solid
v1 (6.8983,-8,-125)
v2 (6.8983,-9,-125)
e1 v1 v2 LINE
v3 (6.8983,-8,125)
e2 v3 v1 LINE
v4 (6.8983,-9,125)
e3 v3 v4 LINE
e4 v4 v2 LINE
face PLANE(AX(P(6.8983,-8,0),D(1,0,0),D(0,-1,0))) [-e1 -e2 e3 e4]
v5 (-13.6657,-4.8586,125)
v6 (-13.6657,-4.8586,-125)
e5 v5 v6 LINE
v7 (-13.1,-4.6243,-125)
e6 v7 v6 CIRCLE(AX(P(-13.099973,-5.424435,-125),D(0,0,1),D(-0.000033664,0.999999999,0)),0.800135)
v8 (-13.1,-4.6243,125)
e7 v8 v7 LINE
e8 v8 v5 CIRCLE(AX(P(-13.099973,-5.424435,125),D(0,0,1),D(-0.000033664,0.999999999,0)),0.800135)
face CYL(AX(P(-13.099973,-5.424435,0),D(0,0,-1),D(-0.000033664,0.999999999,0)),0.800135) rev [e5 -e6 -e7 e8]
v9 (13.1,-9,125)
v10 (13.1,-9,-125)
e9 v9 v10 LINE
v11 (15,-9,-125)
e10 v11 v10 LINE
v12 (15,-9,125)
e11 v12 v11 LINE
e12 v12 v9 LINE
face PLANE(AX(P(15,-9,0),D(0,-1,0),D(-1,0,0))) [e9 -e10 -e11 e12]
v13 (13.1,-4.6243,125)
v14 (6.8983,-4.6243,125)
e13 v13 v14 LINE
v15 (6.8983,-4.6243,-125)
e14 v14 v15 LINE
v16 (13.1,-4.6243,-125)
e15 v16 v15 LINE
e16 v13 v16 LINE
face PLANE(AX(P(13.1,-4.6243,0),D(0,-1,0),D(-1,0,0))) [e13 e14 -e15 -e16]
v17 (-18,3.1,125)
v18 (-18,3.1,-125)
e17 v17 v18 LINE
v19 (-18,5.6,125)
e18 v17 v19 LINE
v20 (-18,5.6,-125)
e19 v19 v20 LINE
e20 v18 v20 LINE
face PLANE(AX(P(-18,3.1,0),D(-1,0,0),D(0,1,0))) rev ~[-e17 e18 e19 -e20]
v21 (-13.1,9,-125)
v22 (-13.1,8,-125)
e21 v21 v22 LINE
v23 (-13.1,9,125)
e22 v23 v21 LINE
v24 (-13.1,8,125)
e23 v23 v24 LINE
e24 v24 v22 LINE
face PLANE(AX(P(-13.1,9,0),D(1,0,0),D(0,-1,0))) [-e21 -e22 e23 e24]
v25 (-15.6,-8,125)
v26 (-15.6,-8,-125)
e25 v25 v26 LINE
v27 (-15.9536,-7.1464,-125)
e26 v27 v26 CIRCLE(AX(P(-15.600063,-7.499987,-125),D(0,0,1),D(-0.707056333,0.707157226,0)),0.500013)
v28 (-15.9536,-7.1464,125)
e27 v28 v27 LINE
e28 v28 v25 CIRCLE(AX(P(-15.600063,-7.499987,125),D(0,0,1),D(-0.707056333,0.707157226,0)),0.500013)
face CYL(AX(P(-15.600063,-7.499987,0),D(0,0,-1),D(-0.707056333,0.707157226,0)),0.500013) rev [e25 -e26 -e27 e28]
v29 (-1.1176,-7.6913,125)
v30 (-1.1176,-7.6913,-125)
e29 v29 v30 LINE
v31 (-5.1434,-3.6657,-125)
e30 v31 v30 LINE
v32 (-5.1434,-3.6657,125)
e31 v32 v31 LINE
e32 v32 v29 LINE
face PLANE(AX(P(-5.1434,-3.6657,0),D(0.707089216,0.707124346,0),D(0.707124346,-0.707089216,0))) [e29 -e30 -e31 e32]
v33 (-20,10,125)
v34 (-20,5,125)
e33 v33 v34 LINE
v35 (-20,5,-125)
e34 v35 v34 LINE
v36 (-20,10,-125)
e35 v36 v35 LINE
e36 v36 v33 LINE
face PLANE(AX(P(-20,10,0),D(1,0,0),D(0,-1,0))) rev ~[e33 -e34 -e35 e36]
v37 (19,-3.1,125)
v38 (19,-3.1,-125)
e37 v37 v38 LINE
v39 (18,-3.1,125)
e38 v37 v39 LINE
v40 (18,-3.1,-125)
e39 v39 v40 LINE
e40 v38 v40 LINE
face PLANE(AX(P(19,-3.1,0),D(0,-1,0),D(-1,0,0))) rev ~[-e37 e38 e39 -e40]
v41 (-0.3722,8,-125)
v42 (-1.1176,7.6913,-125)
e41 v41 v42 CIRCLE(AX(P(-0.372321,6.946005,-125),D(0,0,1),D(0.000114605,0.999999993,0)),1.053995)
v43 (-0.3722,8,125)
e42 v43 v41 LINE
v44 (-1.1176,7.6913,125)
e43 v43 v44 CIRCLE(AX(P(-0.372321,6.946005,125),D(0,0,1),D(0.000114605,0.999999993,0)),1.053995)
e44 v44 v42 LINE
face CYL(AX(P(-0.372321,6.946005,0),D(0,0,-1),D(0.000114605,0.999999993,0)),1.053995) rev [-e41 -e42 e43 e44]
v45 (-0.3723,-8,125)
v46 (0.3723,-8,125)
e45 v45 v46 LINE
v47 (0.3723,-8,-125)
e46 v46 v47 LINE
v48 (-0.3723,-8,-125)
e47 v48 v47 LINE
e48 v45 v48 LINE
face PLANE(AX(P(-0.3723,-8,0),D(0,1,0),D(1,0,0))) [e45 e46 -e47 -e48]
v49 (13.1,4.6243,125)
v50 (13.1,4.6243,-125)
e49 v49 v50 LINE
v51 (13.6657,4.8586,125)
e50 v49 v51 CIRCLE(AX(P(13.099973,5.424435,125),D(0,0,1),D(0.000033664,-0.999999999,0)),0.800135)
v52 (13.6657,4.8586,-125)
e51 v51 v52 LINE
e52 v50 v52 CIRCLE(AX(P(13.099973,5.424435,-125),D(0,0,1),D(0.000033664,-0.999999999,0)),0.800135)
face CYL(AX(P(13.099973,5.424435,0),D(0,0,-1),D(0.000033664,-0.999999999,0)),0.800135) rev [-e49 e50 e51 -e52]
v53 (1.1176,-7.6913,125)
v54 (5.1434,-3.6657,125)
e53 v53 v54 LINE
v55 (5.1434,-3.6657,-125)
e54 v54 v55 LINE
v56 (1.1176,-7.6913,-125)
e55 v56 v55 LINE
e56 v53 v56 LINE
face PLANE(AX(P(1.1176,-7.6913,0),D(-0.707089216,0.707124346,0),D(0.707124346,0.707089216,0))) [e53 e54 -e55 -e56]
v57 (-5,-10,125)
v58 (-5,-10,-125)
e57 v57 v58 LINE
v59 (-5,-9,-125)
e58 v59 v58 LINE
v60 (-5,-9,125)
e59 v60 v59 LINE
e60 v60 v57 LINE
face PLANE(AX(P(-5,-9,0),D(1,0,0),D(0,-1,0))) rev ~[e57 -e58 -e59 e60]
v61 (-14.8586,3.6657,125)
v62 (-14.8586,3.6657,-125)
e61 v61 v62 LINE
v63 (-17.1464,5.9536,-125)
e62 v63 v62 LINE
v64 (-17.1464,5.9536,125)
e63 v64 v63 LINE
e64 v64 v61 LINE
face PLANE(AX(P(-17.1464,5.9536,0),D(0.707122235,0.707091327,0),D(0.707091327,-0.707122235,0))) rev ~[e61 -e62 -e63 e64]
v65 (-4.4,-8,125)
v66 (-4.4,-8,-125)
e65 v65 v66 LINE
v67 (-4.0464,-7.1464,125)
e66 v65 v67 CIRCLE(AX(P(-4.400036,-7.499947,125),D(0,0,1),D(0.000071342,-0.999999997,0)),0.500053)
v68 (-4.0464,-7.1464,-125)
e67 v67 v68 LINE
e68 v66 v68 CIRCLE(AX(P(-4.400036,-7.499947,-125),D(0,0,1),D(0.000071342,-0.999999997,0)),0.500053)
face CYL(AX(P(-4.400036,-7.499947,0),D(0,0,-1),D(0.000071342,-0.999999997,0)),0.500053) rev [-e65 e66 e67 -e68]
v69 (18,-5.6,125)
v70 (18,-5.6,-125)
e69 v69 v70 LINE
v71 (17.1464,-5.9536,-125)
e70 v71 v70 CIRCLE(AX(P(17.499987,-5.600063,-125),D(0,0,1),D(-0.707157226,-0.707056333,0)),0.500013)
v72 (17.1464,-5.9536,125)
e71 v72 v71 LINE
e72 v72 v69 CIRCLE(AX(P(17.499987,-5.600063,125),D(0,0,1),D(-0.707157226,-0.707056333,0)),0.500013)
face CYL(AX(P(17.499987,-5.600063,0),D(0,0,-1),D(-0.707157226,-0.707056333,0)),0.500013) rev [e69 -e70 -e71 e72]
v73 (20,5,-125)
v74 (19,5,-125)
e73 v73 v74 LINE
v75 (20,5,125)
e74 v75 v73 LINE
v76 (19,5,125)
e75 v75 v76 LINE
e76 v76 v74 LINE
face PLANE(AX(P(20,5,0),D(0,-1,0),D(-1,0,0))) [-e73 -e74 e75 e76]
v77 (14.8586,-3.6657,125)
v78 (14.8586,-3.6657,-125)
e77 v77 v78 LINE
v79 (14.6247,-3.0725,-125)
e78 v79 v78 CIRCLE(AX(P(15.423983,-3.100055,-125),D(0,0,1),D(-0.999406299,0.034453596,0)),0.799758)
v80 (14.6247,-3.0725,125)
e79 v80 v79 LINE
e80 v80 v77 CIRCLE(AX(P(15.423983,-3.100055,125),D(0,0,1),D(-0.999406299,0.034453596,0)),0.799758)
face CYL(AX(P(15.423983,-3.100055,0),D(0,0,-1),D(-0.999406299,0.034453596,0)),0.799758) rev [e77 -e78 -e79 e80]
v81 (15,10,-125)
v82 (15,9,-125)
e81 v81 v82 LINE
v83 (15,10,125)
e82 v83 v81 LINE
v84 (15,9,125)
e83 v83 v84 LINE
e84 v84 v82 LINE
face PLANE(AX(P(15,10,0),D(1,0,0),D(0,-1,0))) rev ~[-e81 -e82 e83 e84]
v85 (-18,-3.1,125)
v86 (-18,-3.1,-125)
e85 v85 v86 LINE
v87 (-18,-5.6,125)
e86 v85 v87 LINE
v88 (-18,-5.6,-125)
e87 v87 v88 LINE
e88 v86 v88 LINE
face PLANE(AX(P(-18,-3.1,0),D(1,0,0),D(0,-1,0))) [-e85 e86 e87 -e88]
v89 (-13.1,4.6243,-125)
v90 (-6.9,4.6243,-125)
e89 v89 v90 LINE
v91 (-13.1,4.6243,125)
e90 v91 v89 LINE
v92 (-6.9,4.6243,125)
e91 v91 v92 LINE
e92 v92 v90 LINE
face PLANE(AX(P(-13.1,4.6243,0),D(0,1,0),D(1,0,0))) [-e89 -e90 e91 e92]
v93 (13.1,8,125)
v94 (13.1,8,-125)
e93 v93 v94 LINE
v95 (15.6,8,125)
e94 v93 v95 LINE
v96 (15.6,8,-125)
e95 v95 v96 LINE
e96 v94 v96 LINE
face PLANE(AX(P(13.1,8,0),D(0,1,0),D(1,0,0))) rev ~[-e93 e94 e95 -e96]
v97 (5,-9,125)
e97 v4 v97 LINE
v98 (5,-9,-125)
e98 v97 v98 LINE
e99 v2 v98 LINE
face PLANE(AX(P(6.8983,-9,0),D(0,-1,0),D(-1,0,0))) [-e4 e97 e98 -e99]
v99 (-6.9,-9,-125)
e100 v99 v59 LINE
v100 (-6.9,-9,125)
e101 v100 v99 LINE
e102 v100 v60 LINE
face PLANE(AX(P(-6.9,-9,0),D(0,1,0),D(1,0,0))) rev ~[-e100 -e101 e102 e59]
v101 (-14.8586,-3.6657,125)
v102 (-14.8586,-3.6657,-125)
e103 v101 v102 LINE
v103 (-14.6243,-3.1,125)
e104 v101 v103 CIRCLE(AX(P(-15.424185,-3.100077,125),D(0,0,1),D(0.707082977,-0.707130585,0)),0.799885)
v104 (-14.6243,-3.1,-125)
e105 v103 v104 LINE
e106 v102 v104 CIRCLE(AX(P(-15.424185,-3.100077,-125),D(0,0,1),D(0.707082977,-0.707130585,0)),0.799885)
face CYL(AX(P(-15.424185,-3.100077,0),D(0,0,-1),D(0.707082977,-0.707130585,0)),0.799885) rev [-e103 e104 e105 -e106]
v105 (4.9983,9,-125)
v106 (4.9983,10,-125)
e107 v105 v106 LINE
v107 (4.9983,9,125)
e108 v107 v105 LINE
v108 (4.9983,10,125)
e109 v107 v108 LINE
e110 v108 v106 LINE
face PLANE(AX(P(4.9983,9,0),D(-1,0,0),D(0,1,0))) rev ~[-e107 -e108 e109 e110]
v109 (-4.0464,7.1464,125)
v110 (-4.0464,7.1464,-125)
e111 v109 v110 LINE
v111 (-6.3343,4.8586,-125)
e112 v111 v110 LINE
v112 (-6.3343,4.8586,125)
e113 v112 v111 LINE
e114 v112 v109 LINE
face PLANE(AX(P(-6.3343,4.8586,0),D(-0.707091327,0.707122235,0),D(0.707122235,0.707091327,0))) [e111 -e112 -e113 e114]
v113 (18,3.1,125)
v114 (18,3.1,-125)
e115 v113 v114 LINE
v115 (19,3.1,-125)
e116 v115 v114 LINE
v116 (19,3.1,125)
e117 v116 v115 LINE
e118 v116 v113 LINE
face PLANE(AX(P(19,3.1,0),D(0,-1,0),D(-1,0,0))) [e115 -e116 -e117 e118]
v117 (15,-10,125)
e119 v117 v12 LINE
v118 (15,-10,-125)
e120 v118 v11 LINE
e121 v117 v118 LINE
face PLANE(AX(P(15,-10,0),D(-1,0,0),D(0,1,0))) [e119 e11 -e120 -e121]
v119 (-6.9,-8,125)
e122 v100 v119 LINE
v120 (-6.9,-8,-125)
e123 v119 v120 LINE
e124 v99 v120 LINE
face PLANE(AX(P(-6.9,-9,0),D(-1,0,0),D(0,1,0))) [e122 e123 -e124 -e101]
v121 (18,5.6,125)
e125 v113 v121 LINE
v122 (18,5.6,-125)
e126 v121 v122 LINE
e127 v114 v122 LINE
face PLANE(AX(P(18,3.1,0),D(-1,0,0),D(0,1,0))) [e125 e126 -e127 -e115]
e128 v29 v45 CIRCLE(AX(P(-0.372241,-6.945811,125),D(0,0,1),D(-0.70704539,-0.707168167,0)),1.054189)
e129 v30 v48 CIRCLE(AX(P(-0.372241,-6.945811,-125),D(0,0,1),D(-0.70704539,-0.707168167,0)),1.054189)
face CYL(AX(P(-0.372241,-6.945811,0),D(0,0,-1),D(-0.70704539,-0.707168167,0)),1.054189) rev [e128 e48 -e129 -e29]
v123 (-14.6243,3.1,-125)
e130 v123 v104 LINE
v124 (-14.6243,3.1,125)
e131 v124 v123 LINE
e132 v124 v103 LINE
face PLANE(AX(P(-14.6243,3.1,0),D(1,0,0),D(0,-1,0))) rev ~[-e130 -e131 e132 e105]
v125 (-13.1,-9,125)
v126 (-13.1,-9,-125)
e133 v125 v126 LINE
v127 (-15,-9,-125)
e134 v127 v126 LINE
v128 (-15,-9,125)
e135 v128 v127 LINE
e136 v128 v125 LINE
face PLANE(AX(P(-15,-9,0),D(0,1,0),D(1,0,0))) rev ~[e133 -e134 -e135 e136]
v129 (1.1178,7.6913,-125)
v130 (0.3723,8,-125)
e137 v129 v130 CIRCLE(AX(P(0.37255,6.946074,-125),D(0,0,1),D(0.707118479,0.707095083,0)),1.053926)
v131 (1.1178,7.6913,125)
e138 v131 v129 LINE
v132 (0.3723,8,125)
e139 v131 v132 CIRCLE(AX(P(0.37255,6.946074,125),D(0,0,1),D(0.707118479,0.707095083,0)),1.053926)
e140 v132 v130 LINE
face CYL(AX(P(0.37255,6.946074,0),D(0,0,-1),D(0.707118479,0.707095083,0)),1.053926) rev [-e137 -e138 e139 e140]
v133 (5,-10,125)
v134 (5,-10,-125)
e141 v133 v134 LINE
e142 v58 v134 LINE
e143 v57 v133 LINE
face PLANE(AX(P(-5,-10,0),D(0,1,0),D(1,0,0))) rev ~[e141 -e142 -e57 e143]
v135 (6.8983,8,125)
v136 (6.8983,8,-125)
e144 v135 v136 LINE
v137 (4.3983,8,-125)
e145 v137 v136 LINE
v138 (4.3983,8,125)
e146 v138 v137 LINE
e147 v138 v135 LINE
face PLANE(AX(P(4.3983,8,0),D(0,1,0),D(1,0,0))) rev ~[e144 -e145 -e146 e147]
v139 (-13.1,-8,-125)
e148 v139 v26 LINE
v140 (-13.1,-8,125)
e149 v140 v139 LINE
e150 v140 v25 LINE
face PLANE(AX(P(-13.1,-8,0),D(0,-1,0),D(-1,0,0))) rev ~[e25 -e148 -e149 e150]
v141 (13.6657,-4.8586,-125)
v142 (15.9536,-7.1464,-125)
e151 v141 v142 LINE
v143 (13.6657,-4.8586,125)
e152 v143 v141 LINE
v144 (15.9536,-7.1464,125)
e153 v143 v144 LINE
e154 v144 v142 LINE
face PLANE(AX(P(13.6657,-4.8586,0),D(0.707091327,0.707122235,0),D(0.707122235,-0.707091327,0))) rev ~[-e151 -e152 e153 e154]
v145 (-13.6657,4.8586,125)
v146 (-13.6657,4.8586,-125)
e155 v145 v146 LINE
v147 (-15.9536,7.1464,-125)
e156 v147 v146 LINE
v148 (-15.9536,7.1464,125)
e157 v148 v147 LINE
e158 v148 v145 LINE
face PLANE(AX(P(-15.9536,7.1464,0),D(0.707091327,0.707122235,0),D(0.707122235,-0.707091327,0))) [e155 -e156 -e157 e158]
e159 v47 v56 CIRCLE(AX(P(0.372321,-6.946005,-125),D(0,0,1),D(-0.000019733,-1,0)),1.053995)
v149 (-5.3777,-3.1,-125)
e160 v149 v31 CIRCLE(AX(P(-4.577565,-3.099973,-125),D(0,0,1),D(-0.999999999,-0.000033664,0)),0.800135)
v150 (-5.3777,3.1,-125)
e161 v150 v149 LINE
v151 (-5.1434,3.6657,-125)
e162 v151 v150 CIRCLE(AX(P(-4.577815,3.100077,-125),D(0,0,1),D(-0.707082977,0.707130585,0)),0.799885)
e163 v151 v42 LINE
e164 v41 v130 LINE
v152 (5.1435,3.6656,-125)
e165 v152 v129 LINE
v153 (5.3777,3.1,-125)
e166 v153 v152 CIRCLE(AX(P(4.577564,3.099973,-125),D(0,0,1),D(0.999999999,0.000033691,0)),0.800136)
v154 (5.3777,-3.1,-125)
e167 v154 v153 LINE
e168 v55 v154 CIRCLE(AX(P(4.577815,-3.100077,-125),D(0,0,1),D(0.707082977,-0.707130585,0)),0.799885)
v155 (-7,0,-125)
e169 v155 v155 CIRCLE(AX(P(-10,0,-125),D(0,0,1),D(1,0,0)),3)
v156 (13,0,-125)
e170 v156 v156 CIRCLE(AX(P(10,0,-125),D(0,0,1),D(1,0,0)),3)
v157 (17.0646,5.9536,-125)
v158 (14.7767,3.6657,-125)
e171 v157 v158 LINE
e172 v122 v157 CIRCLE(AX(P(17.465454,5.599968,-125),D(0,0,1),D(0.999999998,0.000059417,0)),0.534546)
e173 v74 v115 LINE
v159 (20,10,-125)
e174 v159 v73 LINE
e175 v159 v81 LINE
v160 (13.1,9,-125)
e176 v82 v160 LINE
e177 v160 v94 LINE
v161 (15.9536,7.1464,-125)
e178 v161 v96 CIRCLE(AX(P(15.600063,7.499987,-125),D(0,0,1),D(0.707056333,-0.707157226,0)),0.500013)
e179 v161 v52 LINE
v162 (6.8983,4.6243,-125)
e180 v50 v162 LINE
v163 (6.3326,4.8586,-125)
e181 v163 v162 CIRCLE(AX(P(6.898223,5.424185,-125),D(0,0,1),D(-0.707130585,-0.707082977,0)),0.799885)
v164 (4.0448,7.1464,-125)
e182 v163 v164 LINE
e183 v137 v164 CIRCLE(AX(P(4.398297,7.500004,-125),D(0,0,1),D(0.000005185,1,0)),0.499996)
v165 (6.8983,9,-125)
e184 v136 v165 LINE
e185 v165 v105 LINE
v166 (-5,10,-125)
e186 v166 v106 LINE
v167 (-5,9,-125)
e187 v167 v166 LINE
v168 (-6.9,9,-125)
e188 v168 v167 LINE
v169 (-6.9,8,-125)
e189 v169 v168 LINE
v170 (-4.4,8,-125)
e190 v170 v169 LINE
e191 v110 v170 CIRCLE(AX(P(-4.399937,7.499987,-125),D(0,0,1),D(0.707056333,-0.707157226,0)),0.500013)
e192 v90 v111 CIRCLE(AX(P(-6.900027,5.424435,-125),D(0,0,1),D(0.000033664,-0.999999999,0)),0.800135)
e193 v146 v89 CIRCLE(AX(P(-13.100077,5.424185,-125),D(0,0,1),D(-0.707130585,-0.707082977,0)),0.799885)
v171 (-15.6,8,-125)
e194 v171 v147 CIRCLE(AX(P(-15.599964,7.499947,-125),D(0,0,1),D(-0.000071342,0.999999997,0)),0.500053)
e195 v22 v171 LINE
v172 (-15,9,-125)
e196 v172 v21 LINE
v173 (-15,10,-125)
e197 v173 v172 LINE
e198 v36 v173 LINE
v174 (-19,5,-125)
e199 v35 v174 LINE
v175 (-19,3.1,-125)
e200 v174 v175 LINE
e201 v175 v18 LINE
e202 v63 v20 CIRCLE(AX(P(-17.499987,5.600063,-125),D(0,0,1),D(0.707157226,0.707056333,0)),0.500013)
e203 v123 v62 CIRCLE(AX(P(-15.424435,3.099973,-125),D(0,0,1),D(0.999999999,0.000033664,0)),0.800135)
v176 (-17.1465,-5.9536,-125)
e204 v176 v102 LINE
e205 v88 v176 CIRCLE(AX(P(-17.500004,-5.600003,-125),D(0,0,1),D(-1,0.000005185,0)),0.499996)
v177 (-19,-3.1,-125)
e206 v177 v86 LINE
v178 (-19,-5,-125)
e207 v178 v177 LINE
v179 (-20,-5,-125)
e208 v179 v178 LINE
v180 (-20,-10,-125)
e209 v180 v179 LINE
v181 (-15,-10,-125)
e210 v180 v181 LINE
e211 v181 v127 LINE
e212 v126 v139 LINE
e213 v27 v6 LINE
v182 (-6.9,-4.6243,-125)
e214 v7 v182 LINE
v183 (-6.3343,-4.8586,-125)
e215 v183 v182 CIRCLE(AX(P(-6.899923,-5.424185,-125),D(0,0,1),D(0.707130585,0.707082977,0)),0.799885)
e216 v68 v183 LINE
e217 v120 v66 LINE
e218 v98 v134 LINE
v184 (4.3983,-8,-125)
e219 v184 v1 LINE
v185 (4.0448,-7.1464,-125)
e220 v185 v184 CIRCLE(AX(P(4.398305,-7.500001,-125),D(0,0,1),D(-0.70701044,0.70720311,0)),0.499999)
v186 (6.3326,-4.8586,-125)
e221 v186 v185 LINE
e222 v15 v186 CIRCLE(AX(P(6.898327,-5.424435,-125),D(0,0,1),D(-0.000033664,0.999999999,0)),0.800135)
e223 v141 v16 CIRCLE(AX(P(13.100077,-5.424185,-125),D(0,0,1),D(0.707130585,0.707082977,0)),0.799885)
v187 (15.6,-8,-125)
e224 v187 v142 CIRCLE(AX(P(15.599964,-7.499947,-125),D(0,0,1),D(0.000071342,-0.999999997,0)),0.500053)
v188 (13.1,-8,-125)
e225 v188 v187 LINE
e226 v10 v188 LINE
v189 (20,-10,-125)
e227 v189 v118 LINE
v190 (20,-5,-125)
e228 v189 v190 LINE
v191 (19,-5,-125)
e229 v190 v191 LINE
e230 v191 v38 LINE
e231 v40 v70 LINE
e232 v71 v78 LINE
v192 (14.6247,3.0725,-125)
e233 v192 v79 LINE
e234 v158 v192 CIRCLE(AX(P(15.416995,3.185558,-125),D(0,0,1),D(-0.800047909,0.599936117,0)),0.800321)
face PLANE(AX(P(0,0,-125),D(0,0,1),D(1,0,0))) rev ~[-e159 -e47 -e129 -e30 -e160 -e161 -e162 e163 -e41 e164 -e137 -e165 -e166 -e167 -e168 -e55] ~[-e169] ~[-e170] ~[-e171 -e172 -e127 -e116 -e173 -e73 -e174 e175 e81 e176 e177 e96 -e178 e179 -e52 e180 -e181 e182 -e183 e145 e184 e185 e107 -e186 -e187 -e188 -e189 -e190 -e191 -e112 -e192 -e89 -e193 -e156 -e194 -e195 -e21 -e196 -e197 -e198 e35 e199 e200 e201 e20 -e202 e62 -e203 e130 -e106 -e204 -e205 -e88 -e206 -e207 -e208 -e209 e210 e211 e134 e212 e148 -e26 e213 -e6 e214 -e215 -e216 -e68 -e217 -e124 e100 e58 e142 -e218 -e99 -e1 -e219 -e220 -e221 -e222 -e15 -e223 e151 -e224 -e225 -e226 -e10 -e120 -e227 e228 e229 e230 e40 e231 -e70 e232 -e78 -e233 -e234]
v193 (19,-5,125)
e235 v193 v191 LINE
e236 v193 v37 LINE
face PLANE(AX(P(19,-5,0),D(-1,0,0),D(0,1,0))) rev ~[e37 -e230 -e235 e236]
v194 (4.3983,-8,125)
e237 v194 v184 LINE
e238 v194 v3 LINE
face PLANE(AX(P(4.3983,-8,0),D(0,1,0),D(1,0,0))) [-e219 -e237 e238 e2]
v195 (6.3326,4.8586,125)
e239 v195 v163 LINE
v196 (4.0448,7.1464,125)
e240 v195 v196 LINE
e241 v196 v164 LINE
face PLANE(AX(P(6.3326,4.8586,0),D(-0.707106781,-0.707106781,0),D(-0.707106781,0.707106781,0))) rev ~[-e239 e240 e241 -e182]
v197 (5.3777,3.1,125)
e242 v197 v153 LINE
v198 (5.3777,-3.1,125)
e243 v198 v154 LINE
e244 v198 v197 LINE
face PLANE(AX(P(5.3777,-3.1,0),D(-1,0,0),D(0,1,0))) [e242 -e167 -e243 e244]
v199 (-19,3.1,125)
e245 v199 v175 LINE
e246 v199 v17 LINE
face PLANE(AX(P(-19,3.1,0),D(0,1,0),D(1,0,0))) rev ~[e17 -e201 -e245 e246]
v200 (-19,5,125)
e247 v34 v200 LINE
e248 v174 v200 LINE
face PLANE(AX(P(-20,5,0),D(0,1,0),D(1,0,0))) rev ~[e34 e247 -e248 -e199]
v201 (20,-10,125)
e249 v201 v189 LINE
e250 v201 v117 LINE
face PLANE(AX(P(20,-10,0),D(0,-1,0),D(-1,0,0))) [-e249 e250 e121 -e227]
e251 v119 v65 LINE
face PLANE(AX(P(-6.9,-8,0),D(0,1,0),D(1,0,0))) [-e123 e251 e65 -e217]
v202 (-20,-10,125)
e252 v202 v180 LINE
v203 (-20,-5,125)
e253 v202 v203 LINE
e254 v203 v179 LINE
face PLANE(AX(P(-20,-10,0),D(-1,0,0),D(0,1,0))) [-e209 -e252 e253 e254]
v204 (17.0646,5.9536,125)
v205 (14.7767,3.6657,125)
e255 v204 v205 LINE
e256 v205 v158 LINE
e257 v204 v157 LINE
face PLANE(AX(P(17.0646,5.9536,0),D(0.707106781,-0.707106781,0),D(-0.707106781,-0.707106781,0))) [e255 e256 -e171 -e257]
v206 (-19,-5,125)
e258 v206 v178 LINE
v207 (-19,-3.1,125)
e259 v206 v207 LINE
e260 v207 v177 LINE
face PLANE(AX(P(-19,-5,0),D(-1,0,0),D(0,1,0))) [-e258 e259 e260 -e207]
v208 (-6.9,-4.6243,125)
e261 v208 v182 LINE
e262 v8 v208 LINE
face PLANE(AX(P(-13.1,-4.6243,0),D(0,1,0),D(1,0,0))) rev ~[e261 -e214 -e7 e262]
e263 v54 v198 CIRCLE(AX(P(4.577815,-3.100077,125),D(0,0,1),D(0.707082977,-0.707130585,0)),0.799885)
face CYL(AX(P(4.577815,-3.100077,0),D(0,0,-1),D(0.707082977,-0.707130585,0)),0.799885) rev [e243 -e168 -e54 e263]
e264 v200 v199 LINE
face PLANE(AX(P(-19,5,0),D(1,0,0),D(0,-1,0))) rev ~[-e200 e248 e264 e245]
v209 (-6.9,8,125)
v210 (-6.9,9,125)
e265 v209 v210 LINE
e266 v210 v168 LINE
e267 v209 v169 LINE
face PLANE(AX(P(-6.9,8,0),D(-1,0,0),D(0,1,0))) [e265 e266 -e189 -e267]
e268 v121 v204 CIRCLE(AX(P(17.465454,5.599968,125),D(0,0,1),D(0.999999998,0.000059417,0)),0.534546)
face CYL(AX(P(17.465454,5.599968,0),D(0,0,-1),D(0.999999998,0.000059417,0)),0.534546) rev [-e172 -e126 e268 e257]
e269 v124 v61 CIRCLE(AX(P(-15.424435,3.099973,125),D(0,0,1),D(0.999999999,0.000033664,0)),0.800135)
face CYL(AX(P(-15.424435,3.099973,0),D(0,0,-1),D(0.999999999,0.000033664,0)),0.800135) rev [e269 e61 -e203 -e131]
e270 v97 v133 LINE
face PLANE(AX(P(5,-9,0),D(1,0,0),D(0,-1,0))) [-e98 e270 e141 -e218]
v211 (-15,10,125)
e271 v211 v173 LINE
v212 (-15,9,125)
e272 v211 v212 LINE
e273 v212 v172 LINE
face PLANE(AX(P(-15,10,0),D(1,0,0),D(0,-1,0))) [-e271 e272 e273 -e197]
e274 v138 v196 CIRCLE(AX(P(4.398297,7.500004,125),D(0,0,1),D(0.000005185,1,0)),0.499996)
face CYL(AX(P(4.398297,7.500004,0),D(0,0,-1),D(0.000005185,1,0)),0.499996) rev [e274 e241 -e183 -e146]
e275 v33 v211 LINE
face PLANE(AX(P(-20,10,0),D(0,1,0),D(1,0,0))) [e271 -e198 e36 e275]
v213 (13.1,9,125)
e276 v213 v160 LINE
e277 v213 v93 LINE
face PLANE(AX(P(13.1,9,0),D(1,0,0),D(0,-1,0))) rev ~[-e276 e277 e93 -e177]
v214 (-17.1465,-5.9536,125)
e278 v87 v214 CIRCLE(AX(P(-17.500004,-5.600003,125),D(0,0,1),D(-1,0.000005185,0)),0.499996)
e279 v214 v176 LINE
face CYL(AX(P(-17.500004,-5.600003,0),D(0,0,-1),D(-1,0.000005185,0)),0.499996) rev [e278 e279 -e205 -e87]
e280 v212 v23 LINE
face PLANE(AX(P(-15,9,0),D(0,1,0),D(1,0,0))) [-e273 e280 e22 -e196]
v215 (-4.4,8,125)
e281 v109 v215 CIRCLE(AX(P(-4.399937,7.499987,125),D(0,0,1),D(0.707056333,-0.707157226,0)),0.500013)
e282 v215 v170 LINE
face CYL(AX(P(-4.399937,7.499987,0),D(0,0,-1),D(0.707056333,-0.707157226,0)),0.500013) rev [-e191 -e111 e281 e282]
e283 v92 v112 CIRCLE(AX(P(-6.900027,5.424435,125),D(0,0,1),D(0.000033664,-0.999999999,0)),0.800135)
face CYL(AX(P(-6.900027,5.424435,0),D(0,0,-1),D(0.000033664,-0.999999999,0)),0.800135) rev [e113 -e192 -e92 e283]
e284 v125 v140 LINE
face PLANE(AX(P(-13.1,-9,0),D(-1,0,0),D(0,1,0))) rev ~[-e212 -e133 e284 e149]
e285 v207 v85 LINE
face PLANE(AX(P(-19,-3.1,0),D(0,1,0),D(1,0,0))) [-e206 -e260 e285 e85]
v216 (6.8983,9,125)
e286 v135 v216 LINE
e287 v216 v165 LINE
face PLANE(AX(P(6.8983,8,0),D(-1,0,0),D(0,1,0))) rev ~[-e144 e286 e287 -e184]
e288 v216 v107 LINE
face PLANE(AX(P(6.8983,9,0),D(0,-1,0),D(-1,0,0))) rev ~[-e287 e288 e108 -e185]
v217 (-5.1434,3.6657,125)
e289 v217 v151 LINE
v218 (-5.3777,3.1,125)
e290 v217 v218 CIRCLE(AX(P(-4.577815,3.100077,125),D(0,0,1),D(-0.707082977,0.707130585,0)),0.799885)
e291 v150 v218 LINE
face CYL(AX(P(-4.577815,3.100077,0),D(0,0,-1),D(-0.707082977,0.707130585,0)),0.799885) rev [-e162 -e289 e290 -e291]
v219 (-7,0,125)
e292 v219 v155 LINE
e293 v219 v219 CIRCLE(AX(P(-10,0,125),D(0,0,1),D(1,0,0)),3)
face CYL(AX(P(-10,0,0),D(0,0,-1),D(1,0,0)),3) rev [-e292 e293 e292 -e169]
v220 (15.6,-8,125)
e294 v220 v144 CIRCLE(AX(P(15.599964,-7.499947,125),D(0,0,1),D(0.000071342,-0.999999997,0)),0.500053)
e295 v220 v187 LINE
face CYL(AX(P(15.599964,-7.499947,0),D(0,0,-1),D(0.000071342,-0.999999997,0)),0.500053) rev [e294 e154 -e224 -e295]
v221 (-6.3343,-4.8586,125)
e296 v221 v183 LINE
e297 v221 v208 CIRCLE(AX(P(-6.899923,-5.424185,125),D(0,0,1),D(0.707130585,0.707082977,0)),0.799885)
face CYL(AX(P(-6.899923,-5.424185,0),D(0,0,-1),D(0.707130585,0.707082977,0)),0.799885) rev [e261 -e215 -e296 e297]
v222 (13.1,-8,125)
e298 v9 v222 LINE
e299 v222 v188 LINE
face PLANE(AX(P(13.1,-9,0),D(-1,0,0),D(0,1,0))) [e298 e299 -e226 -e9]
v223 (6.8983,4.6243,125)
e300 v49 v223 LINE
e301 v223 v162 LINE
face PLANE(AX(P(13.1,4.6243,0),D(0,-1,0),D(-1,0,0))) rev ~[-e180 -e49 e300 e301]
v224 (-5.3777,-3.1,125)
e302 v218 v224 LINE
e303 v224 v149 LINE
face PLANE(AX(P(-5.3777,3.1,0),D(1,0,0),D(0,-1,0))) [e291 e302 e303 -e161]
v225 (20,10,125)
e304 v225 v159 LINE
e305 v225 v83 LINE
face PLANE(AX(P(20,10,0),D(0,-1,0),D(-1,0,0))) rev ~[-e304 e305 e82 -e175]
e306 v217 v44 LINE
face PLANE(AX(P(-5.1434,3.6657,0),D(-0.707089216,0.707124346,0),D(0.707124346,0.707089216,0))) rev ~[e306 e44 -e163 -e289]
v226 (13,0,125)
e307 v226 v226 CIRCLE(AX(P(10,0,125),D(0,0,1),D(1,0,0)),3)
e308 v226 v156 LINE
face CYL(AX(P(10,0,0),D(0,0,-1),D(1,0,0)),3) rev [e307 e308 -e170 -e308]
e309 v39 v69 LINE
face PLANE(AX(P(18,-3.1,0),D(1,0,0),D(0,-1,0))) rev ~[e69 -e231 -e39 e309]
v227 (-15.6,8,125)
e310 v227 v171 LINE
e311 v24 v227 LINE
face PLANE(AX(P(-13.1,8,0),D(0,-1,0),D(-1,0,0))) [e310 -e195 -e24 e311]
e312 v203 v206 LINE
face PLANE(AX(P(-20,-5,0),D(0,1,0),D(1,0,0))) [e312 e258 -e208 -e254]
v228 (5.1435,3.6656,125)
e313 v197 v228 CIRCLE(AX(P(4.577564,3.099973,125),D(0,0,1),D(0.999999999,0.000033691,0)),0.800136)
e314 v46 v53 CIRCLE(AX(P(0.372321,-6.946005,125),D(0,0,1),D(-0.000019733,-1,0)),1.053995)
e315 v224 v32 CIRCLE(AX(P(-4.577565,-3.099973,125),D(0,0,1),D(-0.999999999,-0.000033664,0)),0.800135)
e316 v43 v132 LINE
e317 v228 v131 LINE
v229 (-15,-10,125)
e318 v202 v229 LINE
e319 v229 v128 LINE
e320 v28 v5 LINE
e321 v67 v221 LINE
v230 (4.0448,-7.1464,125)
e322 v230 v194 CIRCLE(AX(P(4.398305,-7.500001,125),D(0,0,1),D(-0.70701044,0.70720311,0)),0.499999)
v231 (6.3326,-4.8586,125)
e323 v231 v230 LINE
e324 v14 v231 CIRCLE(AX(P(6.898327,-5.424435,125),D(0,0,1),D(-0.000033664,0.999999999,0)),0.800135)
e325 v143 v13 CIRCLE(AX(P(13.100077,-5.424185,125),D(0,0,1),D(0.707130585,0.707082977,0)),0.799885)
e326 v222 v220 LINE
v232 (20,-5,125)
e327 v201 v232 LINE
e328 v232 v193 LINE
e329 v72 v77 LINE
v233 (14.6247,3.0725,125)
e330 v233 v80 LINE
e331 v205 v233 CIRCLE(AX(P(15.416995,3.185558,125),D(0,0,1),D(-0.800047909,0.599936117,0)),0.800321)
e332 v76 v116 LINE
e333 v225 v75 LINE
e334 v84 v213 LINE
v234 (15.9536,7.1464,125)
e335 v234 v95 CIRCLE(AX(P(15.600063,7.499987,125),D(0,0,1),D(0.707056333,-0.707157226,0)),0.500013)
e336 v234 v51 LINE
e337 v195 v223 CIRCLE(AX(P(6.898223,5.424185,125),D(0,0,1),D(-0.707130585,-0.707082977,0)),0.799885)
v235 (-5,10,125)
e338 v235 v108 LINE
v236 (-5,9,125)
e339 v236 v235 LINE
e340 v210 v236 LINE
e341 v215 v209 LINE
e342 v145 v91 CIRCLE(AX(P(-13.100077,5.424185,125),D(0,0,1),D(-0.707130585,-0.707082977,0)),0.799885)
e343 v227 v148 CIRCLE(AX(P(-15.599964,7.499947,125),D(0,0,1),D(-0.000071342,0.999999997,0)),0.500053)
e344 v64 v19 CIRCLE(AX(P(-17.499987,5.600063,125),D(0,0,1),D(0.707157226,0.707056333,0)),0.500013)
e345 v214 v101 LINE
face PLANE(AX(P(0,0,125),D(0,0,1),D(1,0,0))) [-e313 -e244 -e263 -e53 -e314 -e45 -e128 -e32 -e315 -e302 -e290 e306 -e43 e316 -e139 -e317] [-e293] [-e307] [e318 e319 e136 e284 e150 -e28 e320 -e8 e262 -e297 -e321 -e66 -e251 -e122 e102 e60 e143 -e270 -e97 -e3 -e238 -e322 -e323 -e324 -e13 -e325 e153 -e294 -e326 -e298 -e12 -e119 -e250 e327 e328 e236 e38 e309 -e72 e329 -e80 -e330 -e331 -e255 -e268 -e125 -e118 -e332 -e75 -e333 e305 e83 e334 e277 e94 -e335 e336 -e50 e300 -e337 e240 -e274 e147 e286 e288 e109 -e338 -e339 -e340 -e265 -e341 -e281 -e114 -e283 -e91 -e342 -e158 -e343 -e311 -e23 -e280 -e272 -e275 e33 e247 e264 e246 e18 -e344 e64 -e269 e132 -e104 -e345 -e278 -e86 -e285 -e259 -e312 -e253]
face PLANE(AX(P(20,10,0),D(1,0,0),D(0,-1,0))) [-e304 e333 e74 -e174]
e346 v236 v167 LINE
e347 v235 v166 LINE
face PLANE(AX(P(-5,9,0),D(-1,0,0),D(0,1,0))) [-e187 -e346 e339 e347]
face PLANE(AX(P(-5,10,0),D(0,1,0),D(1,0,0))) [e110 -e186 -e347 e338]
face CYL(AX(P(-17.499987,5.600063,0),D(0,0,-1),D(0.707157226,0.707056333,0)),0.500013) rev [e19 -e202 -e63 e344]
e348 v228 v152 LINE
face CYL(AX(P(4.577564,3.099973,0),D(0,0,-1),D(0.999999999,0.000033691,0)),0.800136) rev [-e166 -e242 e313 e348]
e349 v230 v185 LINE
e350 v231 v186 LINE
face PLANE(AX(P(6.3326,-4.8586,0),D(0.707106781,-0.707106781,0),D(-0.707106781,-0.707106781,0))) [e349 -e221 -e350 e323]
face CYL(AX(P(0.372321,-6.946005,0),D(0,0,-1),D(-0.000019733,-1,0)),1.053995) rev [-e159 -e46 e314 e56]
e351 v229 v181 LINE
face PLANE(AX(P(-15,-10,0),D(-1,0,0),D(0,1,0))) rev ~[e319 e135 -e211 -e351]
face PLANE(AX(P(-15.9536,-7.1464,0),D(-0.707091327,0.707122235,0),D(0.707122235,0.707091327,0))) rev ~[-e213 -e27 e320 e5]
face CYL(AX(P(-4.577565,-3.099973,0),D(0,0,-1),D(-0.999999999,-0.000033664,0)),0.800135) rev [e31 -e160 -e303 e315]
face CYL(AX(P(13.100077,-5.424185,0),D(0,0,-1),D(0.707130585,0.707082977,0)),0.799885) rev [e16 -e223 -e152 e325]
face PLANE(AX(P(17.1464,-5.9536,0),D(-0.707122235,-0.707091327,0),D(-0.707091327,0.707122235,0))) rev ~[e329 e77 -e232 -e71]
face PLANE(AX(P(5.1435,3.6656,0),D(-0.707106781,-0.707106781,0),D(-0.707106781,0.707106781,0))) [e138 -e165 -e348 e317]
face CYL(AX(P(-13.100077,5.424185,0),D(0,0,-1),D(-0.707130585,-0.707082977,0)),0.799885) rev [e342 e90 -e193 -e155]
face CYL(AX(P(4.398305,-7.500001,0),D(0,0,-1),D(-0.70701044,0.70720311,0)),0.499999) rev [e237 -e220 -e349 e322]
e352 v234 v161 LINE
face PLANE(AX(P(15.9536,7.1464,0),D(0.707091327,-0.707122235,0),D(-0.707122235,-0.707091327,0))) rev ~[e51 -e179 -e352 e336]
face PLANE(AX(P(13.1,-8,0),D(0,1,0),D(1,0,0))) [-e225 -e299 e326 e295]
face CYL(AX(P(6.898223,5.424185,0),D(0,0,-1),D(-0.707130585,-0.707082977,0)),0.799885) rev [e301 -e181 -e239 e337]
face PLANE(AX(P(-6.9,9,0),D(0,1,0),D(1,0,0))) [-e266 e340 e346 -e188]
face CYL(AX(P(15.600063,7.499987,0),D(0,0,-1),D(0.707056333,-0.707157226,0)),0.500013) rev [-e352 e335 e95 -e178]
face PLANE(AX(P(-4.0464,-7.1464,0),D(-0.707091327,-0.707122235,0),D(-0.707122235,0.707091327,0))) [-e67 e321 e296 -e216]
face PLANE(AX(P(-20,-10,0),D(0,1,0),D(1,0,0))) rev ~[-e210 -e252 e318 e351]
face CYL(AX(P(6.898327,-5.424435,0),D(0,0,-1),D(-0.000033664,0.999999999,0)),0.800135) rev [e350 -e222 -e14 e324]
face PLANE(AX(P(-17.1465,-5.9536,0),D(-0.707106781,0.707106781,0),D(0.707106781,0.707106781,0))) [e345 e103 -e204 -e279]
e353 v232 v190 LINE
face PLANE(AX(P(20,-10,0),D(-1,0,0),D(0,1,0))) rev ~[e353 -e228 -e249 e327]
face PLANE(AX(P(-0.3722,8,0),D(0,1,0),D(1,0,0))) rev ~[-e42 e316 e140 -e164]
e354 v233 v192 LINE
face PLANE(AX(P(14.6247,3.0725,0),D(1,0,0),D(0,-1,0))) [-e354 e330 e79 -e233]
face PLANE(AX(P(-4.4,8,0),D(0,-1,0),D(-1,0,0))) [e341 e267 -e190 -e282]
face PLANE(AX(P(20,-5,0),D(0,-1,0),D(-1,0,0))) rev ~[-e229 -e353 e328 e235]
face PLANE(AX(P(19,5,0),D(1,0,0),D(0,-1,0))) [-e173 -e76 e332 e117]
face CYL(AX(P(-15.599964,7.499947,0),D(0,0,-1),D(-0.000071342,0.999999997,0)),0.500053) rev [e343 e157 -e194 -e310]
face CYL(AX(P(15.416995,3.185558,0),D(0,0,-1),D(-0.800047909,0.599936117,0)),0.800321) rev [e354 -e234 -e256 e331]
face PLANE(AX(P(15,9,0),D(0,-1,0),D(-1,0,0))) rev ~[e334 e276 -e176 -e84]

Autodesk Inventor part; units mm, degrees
sketch "Esboço1" plane through (0, 0, 0) normal (0, 0, 1) x (1, 0, 0)
  line L0 (1376.0742, -3.2) -> (1376.0729, -2.2)
  line L1 (-14.9742, 1386.056) -> (-13.9742, 1386.056)
  line L2 (-13.9742, 1386.056) -> (-13.9742, 1387.2256)
  line L3 (-13.9742, 1387.2256) -> (-15.9742, 1387.2256)
  line L4 (1376.0625, 5) -> (1376.0625, 4)
  line L5 (1376.0625, 4) -> (2769.8011, 4)
  line L6 (2769.8011, 4) -> (2769.8055, 6)
  arc A0 (-16.3152, 1388.0487) -> (-15.9742, 1387.2256) centre (-15.9742, 1387.7078) ccw
  line L7 (-14.9742, -1386.056) -> (-13.9742, -1386.056)
  line L8 (-13.9742, -1386.056) -> (6.3334, -2779.6467)
  line L9 (6.3334, -2779.6467) -> (4.3336, -2779.6758)
  arc A1 (4.3336, -2779.6758) -> (4.0107, -2780.3971) centre (4.3399, -2780.1116) ccw
  line L10 (4.0107, -2780.3971) -> (5.4731, -2781.7335)
  arc A2 (2770.6738, 6.0529) -> (2769.8055, 6) centre (2770.2413, 5.999) ccw
  line L11 (-20, 10) -> (0, 10) construction
  line L12 (0, 10) -> (0, -10) construction
  line L13 (0, -10) -> (-20, -10) construction
  line L14 (-20, -10) -> (-20, 10) construction
  line L15 (-20, 10) -> (0, -10) construction
  line L16 (0, 10) -> (-20, -10) construction
  line L17 (0, 10) -> (20, 10) construction
  line L18 (20, 10) -> (20, -10) construction
  line L19 (20, -10) -> (0, -10) construction
  line L20 (0, -10) -> (0, 10) construction
  line L21 (0, 10) -> (20, -10) construction
  line L22 (20, 10) -> (0, -10) construction
  circle A3 centre (-10, 0) radius 3 construction
  circle A4 centre (10, 0) radius 3 construction
  line L23 (-20, 10) -> (-20, 5)
  line L24 (-20, -10) -> (-20, -5)
  line L25 (-20, -5) -> (-19, -5)
  line L26 (-19, -5) -> (-19, -3.1)
  line L27 (-19, -3.1) -> (-18, -3.1)
  line L28 (-20, 5) -> (-19, 5)
  line L29 (-19, 5) -> (-19, 3.1)
  line L30 (-19, 3.1) -> (-18, 3.1)
  line L31 (20, -10) -> (20, -5)
  line L32 (20, -5) -> (19, -5)
  line L33 (19, -5) -> (19, -3.1)
  line L34 (19, -3.1) -> (18, -3.1)
  line L35 (20, 10) -> (20, 5)
  line L36 (20, 5) -> (19, 5)
  line L37 (19, 5) -> (19, 3.1)
  line L38 (19, 3.1) -> (18, 3.1)
  line L39 (-18, 3.1) -> (-18, 5.6)
  line L40 (-18, -3.1) -> (-18, -5.6)
  line L41 (18, -3.1) -> (18, -5.6)
  line L42 (18, 3.1) -> (18, 5.6)
  arc A5 (18, 5.6) -> (17.0646, 5.9536) centre (17.4655, 5.6) ccw
  line L43 (-20, -10) -> (-15, -10)
  line L44 (-20, 10) -> (-15, 10)
  line L45 (-15, 10) -> (-15, 9)
  line L46 (-15, 9) -> (-13.1, 9)
  line L47 (-13.1, 9) -> (-13.1, 8)
  line L48 (-13.1, 8) -> (-15.6, 8)
  line L49 (-15, -10) -> (-15, -9)
  line L50 (-15, -9) -> (-13.1, -9)
  line L51 (-13.1, -9) -> (-13.1, -8)
  line L52 (-13.1, -8) -> (-15.6, -8)
  line L53 (-20, 0) -> (20, 0) construction
  line L54 (20, -10) -> (15, -10)
  line L55 (15, -10) -> (15, -9)
  line L56 (15, -9) -> (13.1, -9)
  line L57 (13.1, -9) -> (13.1, -8)
  line L58 (13.1, -8) -> (15.6, -8)
  line L59 (20, 10) -> (15, 10)
  arc A6 (-17.1464, 5.9536) -> (-18, 5.6) centre (-17.5, 5.6) ccw
  arc A7 (-15.9536, -7.1464) -> (-15.6, -8) centre (-15.6, -7.5) ccw
  arc A8 (15.6, -8) -> (15.9536, -7.1464) centre (15.6, -7.5) ccw
  arc A9 (-13.1, -4.6243) -> (-13.6657, -4.8586) centre (-13.1, -5.4243) ccw
  line L60 (-15.9536, -7.1464) -> (-13.6657, -4.8586)
  arc A10 (-18, -5.6) -> (-17.1465, -5.9536) centre (-17.5, -5.6) ccw
  line L61 (-14.6243, 3.1) -> (-14.6243, -3.1) construction
  arc A11 (-14.8586, -3.6657) -> (-14.6243, -3.1) centre (-15.4243, -3.1) ccw
  line L62 (-17.1465, -5.9536) -> (-14.8586, -3.6657)
  arc A12 (-15.6, 8) -> (-15.9536, 7.1464) centre (-15.6, 7.5) ccw
  line L63 (-14.6243, 3.1) -> (-14.6243, -3.1)
  arc A13 (-14.6243, 3.1) -> (-14.8586, 3.6657) centre (-15.4243, 3.1) ccw
  line L64 (-17.1464, 5.9536) -> (-14.8586, 3.6657)
  line L65 (-14.8586, 3.6657) -> (-14.8586, 3.6657)
  arc A14 (-13.6657, 4.8586) -> (-13.1, 4.6243) centre (-13.1, 5.4243) ccw
  line L66 (-15.9536, 7.1464) -> (-13.6657, 4.8586)
  line L67 (-6.9, -9) -> (-6.9, -8)
  line L68 (-6.9, -8) -> (-4.4, -8)
  line L69 (-6.9, -9) -> (-5, -9)
  line L70 (-5, -9) -> (-5, -10)
  line L71 (-10, 0) -> (-10, -10) construction
  arc A15 (-4.4, -8) -> (-4.0464, -7.1464) centre (-4.4, -7.5) ccw
  line L72 (-4.0464, -7.1464) -> (-6.3343, -4.8586)
  arc A16 (-6.3343, -4.8586) -> (-6.9, -4.6243) centre (-6.9, -5.4243) ccw
  line L73 (-13.1, -4.6243) -> (-6.9, -4.6243)
  line L74 (-13.1, 4.6243) -> (-6.9, 4.6243)
  arc A17 (-6.9, 4.6243) -> (-6.3343, 4.8586) centre (-6.9, 5.4243) ccw
  line L75 (-6.3343, 4.8586) -> (-4.0464, 7.1464)
  arc A18 (-4.0464, 7.1464) -> (-4.4, 8) centre (-4.4, 7.5) ccw
  line L76 (-4.4, 8) -> (-6.9, 8)
  line L77 (-6.9, 8) -> (-6.9, 9)
  line L78 (-6.9, 9) -> (-5, 9)
  line L79 (-5, 9) -> (-5, 10)
  line L80 (15, 10) -> (15, 9)
  line L81 (15, 9) -> (13.1, 9)
  line L82 (13.1, 9) -> (13.1, 8)
  line L83 (13.1, 8) -> (15.6, 8)
  arc A19 (15.9536, 7.1464) -> (15.6, 8) centre (15.6, 7.5) ccw
  arc A20 (17.1464, -5.9536) -> (18, -5.6) centre (17.5, -5.6) ccw
  line L84 (13.6657, -4.8586) -> (15.9536, -7.1464)
  line L85 (17.1464, -5.9536) -> (14.8586, -3.6657)
  arc A21 (14.6247, -3.0725) -> (14.8586, -3.6657) centre (15.4243, -3.1) ccw
  arc A22 (13.6657, -4.8586) -> (13.1, -4.6243) centre (13.1, -5.4243) ccw
  line L86 (15.9536, 7.1464) -> (13.6657, 4.8586)
  arc A23 (13.1, 4.6243) -> (13.6657, 4.8586) centre (13.1, 5.4243) ccw
  line L87 (17.0646, 5.9536) -> (14.7767, 3.6657)
  arc A24 (14.7767, 3.6657) -> (14.6247, 3.0725) centre (15.4167, 3.1857) ccw
  line L88 (14.6247, 3.0725) -> (14.6247, -3.0725)
  line L89 (13.1, -4.6243) -> (6.8983, -4.6243)
  arc A25 (6.8983, -4.6243) -> (6.3326, -4.8586) centre (6.8983, -5.4243) ccw
  line L90 (6.3326, -4.8586) -> (4.0448, -7.1464)
  arc A26 (4.0448, -7.1464) -> (4.3983, -8) centre (4.3983, -7.5) ccw
  line L91 (13.1, 4.6243) -> (6.8983, 4.6243)
  arc A27 (6.3326, 4.8586) -> (6.8983, 4.6243) centre (6.8983, 5.4243) ccw
  line L92 (6.3326, 4.8586) -> (4.0448, 7.1464)
  arc A28 (4.3983, 8) -> (4.0448, 7.1464) centre (4.3983, 7.5) ccw
  line L93 (4.3983, 8) -> (6.8983, 8)
  line L94 (4.3983, -8) -> (6.8983, -8)
  line L95 (6.8983, 8) -> (6.8983, 9)
  line L96 (6.8983, 9) -> (4.9983, 9)
  line L97 (4.9983, 9) -> (4.9983, 10)
  line L98 (-5, 10) -> (4.9983, 10)
  line L99 (6.8983, -8) -> (6.8983, -9)
  line L100 (6.8983, -9) -> (5, -9)
  line L101 (5, -9) -> (5, -10)
  line L102 (-5, -10) -> (5, -10)
  line L103 (-5.3777, 3.1) -> (-5.3777, -3.1)
  arc A29 (-5.1434, 3.6657) -> (-5.3777, 3.1) centre (-4.5777, 3.1) ccw
  line L104 (-5.1434, 3.6657) -> (-1.1176, 7.6913)
  arc A30 (-0.3722, 8) -> (-1.1176, 7.6913) centre (-0.3723, 6.9459) ccw
  line L105 (-0.3722, 8) -> (0.3723, 8)
  arc A31 (-5.3777, -3.1) -> (-5.1434, -3.6657) centre (-4.5777, -3.1) ccw
  line L106 (-5.1434, -3.6657) -> (-1.1176, -7.6913)
  arc A32 (-1.1176, -7.6913) -> (-0.3723, -8) centre (-0.3723, -6.9459) ccw
  line L107 (-0.3723, -8) -> (0.3723, -8)
  arc A33 (0.3723, -8) -> (1.1176, -7.6913) centre (0.3723, -6.9459) ccw
  line L108 (1.1176, -7.6913) -> (5.1434, -3.6657)
  arc A34 (5.1434, -3.6657) -> (5.3777, -3.1) centre (4.5777, -3.1) ccw
  line L109 (5.3777, -3.1) -> (5.3777, 3.1)
  arc A35 (5.3777, 3.1) -> (5.1435, 3.6656) centre (4.5777, 3.1) ccw
  line L110 (5.1435, 3.6656) -> (1.1178, 7.6913)
  arc A36 (1.1178, 7.6913) -> (0.3723, 8) centre (0.3725, 6.946) ccw
  circle A37 centre (-10, 0) radius 3
  circle A38 centre (10, 0) radius 3
  point P0 (2769.8033, 5)
  point P1 (2072.9318, 4)
  point P2 (-16.4197, 1387.5232)
  point P3 (0, 0)
  point P4 (0, 0)
  point P5 (-10, 0)
  point P6 (10, 0)
  point P7 (0, 0)
  point P8 (0, 0)
  point P9 (-18.5, 3.1)
  point P10 (-18.5, -3.1)
  point P11 (-19.5, 5)
  point P12 (-19.5, -5)
  point P13 (-19, -4.05)
  point P14 (-19, 4.05)
  point P15 (18.5, -3.1)
  point P16 (19.5, 5)
  point P17 (19.5, -5)
  point P18 (18.5, 3.1)
  point P19 (19, 4.05)
  point P20 (19, -4.05)
  point P21 (17.6545, 6.1)
  point P22 (14.35, -8)
  point P23 (-14.35, -8)
  point P24 (-18, -4.35)
  point P25 (18, -4.35)
  point P26 (-14.6243, 0)
  point P27 (-13.4061, 4.6852)
  point P28 (0, 10)
  point P29 (-10, -10)
  point P30 (-6.9, -8.5)
  point P31 (-13.1, -8.5)
  point P32 (-5.1904, 6.0025)
  point P33 (-14.8096, 6.0025)
  point P34 (-5.1904, -6.0025)
  point P35 (-14.8096, -6.0025)
  point P36 (-10, 4.6243)
  point P37 (-10, -4.6243)
  point P38 (-5.65, 8)
  point P39 (-14.35, 8)
  point P40 (-5, 9.5)
  point P41 (-5, -9.5)
  point P42 (13.1, 8.5)
  point P43 (13.1, -8.5)
  point P44 (14.05, 9)
  point P45 (-5.95, 9)
  point P46 (14.35, 8)
  point P47 (14.8096, -6.0025)
  point P48 (16.0619, 7.6913)
  point P49 (14.8096, 6.0025)
  point P50 (13.4061, -4.6852)
  point P51 (17.9665, 6.0025)
  point P52 (5.1887, -6.0025)
  point P53 (6.5922, 4.6852)
  point P54 (6.5922, -4.6852)
  point P55 (14.6247, 0)
  point P56 (-14.6243, 0)
  point P57 (5.1887, 6.0025)
  point P58 (3.9364, 7.6913)
  point P59 (-3.9381, 7.6913)
  point P60 (5.6483, -8)
  point P61 (5.6483, 8)
  point P62 (5.9483, 9)
  point P63 (5, -9.5)
  point P64 (-5.3777, 0)
  point P65 (-0.7756, 7.9198)
  point P66 (-3.1305, 5.6785)
  point P67 (-3.1305, -5.6785)
  point P68 (0, -8)
  point P69 (0, 0)
  point P70 (0.7756, -7.9198)
  point P71 (-0.7756, -7.9198)
  point P72 (-4.0464, -7.1464)
  point P73 (4.3983, 8)
  dimension "d27" = 135
  dimension "d74" = 2
  dimension "d75" = 1
  dimension "d90" = 20
  dimension "d93" = 20
  dimension "d94" = 40
  dimension "d95" = 20
  dimension "d96" = 6
  dimension "d98" = 6
  dimension "d104" = 5
  dimension "d107" = 6.2
  dimension "d108" = 5
  dimension "d110" = 1
  dimension "d114" = 2.5
  dimension "d115" = 2.5
  dimension "d116" = 1
  dimension "d119" = 0.5
  dimension "d120" = 5
  dimension "d121" = 5
  dimension "d122" = 1.9
  dimension "d123" = 1
  dimension "d124" = 2.5
  dimension "d125" = 1.9
  dimension "d126" = 2.5
  dimension "d127" = 5
  dimension "d128" = 2.5
  dimension "d129" = 1.9
  dimension "d132" = 1
  dimension "d133" = 1
  dimension "d134" = 0.5
  dimension "d135" = 135
  dimension "d136" = 0.5
  dimension "d137" = 1
  dimension "d138" = 1
  dimension "d139" = 135
  dimension "d140" = 0.5
  dimension "d141" = 135
  dimension "d143" = 0.8
  dimension "d144" = 45
  dimension "d145" = 0.5
  dimension "d153" = 45
  dimension "d155" = 0.5
  dimension "d156" = 135
  dimension "d158" = 45
  dimension "d163" = 2.5
  dimension "d164" = 1.9
  dimension "d167" = 0.8
  dimension "d169" = 45
  dimension "d172" = 2.5
  dimension "d173" = 1
  dimension "d174" = 0.5
  dimension "d175" = 0.8
  dimension "d179" = 0.8
  dimension "d181" = 0.8
  dimension "d185" = 0.5
  dimension "d186" = 135
  dimension "d187" = 45
  dimension "d188" = 2.5
  dimension "d189" = 2.5
  dimension "d190" = 1.9
  dimension "d192" = 0.8
  dimension "d193" = 45
  dimension "d194" = 45
  dimension "d195" = 0.9738
extrude "Extrusão1" add sketch "Esboço1" along normal mid plane 250
properties part number "20x40mm_perfil_ex" material "Aço"
